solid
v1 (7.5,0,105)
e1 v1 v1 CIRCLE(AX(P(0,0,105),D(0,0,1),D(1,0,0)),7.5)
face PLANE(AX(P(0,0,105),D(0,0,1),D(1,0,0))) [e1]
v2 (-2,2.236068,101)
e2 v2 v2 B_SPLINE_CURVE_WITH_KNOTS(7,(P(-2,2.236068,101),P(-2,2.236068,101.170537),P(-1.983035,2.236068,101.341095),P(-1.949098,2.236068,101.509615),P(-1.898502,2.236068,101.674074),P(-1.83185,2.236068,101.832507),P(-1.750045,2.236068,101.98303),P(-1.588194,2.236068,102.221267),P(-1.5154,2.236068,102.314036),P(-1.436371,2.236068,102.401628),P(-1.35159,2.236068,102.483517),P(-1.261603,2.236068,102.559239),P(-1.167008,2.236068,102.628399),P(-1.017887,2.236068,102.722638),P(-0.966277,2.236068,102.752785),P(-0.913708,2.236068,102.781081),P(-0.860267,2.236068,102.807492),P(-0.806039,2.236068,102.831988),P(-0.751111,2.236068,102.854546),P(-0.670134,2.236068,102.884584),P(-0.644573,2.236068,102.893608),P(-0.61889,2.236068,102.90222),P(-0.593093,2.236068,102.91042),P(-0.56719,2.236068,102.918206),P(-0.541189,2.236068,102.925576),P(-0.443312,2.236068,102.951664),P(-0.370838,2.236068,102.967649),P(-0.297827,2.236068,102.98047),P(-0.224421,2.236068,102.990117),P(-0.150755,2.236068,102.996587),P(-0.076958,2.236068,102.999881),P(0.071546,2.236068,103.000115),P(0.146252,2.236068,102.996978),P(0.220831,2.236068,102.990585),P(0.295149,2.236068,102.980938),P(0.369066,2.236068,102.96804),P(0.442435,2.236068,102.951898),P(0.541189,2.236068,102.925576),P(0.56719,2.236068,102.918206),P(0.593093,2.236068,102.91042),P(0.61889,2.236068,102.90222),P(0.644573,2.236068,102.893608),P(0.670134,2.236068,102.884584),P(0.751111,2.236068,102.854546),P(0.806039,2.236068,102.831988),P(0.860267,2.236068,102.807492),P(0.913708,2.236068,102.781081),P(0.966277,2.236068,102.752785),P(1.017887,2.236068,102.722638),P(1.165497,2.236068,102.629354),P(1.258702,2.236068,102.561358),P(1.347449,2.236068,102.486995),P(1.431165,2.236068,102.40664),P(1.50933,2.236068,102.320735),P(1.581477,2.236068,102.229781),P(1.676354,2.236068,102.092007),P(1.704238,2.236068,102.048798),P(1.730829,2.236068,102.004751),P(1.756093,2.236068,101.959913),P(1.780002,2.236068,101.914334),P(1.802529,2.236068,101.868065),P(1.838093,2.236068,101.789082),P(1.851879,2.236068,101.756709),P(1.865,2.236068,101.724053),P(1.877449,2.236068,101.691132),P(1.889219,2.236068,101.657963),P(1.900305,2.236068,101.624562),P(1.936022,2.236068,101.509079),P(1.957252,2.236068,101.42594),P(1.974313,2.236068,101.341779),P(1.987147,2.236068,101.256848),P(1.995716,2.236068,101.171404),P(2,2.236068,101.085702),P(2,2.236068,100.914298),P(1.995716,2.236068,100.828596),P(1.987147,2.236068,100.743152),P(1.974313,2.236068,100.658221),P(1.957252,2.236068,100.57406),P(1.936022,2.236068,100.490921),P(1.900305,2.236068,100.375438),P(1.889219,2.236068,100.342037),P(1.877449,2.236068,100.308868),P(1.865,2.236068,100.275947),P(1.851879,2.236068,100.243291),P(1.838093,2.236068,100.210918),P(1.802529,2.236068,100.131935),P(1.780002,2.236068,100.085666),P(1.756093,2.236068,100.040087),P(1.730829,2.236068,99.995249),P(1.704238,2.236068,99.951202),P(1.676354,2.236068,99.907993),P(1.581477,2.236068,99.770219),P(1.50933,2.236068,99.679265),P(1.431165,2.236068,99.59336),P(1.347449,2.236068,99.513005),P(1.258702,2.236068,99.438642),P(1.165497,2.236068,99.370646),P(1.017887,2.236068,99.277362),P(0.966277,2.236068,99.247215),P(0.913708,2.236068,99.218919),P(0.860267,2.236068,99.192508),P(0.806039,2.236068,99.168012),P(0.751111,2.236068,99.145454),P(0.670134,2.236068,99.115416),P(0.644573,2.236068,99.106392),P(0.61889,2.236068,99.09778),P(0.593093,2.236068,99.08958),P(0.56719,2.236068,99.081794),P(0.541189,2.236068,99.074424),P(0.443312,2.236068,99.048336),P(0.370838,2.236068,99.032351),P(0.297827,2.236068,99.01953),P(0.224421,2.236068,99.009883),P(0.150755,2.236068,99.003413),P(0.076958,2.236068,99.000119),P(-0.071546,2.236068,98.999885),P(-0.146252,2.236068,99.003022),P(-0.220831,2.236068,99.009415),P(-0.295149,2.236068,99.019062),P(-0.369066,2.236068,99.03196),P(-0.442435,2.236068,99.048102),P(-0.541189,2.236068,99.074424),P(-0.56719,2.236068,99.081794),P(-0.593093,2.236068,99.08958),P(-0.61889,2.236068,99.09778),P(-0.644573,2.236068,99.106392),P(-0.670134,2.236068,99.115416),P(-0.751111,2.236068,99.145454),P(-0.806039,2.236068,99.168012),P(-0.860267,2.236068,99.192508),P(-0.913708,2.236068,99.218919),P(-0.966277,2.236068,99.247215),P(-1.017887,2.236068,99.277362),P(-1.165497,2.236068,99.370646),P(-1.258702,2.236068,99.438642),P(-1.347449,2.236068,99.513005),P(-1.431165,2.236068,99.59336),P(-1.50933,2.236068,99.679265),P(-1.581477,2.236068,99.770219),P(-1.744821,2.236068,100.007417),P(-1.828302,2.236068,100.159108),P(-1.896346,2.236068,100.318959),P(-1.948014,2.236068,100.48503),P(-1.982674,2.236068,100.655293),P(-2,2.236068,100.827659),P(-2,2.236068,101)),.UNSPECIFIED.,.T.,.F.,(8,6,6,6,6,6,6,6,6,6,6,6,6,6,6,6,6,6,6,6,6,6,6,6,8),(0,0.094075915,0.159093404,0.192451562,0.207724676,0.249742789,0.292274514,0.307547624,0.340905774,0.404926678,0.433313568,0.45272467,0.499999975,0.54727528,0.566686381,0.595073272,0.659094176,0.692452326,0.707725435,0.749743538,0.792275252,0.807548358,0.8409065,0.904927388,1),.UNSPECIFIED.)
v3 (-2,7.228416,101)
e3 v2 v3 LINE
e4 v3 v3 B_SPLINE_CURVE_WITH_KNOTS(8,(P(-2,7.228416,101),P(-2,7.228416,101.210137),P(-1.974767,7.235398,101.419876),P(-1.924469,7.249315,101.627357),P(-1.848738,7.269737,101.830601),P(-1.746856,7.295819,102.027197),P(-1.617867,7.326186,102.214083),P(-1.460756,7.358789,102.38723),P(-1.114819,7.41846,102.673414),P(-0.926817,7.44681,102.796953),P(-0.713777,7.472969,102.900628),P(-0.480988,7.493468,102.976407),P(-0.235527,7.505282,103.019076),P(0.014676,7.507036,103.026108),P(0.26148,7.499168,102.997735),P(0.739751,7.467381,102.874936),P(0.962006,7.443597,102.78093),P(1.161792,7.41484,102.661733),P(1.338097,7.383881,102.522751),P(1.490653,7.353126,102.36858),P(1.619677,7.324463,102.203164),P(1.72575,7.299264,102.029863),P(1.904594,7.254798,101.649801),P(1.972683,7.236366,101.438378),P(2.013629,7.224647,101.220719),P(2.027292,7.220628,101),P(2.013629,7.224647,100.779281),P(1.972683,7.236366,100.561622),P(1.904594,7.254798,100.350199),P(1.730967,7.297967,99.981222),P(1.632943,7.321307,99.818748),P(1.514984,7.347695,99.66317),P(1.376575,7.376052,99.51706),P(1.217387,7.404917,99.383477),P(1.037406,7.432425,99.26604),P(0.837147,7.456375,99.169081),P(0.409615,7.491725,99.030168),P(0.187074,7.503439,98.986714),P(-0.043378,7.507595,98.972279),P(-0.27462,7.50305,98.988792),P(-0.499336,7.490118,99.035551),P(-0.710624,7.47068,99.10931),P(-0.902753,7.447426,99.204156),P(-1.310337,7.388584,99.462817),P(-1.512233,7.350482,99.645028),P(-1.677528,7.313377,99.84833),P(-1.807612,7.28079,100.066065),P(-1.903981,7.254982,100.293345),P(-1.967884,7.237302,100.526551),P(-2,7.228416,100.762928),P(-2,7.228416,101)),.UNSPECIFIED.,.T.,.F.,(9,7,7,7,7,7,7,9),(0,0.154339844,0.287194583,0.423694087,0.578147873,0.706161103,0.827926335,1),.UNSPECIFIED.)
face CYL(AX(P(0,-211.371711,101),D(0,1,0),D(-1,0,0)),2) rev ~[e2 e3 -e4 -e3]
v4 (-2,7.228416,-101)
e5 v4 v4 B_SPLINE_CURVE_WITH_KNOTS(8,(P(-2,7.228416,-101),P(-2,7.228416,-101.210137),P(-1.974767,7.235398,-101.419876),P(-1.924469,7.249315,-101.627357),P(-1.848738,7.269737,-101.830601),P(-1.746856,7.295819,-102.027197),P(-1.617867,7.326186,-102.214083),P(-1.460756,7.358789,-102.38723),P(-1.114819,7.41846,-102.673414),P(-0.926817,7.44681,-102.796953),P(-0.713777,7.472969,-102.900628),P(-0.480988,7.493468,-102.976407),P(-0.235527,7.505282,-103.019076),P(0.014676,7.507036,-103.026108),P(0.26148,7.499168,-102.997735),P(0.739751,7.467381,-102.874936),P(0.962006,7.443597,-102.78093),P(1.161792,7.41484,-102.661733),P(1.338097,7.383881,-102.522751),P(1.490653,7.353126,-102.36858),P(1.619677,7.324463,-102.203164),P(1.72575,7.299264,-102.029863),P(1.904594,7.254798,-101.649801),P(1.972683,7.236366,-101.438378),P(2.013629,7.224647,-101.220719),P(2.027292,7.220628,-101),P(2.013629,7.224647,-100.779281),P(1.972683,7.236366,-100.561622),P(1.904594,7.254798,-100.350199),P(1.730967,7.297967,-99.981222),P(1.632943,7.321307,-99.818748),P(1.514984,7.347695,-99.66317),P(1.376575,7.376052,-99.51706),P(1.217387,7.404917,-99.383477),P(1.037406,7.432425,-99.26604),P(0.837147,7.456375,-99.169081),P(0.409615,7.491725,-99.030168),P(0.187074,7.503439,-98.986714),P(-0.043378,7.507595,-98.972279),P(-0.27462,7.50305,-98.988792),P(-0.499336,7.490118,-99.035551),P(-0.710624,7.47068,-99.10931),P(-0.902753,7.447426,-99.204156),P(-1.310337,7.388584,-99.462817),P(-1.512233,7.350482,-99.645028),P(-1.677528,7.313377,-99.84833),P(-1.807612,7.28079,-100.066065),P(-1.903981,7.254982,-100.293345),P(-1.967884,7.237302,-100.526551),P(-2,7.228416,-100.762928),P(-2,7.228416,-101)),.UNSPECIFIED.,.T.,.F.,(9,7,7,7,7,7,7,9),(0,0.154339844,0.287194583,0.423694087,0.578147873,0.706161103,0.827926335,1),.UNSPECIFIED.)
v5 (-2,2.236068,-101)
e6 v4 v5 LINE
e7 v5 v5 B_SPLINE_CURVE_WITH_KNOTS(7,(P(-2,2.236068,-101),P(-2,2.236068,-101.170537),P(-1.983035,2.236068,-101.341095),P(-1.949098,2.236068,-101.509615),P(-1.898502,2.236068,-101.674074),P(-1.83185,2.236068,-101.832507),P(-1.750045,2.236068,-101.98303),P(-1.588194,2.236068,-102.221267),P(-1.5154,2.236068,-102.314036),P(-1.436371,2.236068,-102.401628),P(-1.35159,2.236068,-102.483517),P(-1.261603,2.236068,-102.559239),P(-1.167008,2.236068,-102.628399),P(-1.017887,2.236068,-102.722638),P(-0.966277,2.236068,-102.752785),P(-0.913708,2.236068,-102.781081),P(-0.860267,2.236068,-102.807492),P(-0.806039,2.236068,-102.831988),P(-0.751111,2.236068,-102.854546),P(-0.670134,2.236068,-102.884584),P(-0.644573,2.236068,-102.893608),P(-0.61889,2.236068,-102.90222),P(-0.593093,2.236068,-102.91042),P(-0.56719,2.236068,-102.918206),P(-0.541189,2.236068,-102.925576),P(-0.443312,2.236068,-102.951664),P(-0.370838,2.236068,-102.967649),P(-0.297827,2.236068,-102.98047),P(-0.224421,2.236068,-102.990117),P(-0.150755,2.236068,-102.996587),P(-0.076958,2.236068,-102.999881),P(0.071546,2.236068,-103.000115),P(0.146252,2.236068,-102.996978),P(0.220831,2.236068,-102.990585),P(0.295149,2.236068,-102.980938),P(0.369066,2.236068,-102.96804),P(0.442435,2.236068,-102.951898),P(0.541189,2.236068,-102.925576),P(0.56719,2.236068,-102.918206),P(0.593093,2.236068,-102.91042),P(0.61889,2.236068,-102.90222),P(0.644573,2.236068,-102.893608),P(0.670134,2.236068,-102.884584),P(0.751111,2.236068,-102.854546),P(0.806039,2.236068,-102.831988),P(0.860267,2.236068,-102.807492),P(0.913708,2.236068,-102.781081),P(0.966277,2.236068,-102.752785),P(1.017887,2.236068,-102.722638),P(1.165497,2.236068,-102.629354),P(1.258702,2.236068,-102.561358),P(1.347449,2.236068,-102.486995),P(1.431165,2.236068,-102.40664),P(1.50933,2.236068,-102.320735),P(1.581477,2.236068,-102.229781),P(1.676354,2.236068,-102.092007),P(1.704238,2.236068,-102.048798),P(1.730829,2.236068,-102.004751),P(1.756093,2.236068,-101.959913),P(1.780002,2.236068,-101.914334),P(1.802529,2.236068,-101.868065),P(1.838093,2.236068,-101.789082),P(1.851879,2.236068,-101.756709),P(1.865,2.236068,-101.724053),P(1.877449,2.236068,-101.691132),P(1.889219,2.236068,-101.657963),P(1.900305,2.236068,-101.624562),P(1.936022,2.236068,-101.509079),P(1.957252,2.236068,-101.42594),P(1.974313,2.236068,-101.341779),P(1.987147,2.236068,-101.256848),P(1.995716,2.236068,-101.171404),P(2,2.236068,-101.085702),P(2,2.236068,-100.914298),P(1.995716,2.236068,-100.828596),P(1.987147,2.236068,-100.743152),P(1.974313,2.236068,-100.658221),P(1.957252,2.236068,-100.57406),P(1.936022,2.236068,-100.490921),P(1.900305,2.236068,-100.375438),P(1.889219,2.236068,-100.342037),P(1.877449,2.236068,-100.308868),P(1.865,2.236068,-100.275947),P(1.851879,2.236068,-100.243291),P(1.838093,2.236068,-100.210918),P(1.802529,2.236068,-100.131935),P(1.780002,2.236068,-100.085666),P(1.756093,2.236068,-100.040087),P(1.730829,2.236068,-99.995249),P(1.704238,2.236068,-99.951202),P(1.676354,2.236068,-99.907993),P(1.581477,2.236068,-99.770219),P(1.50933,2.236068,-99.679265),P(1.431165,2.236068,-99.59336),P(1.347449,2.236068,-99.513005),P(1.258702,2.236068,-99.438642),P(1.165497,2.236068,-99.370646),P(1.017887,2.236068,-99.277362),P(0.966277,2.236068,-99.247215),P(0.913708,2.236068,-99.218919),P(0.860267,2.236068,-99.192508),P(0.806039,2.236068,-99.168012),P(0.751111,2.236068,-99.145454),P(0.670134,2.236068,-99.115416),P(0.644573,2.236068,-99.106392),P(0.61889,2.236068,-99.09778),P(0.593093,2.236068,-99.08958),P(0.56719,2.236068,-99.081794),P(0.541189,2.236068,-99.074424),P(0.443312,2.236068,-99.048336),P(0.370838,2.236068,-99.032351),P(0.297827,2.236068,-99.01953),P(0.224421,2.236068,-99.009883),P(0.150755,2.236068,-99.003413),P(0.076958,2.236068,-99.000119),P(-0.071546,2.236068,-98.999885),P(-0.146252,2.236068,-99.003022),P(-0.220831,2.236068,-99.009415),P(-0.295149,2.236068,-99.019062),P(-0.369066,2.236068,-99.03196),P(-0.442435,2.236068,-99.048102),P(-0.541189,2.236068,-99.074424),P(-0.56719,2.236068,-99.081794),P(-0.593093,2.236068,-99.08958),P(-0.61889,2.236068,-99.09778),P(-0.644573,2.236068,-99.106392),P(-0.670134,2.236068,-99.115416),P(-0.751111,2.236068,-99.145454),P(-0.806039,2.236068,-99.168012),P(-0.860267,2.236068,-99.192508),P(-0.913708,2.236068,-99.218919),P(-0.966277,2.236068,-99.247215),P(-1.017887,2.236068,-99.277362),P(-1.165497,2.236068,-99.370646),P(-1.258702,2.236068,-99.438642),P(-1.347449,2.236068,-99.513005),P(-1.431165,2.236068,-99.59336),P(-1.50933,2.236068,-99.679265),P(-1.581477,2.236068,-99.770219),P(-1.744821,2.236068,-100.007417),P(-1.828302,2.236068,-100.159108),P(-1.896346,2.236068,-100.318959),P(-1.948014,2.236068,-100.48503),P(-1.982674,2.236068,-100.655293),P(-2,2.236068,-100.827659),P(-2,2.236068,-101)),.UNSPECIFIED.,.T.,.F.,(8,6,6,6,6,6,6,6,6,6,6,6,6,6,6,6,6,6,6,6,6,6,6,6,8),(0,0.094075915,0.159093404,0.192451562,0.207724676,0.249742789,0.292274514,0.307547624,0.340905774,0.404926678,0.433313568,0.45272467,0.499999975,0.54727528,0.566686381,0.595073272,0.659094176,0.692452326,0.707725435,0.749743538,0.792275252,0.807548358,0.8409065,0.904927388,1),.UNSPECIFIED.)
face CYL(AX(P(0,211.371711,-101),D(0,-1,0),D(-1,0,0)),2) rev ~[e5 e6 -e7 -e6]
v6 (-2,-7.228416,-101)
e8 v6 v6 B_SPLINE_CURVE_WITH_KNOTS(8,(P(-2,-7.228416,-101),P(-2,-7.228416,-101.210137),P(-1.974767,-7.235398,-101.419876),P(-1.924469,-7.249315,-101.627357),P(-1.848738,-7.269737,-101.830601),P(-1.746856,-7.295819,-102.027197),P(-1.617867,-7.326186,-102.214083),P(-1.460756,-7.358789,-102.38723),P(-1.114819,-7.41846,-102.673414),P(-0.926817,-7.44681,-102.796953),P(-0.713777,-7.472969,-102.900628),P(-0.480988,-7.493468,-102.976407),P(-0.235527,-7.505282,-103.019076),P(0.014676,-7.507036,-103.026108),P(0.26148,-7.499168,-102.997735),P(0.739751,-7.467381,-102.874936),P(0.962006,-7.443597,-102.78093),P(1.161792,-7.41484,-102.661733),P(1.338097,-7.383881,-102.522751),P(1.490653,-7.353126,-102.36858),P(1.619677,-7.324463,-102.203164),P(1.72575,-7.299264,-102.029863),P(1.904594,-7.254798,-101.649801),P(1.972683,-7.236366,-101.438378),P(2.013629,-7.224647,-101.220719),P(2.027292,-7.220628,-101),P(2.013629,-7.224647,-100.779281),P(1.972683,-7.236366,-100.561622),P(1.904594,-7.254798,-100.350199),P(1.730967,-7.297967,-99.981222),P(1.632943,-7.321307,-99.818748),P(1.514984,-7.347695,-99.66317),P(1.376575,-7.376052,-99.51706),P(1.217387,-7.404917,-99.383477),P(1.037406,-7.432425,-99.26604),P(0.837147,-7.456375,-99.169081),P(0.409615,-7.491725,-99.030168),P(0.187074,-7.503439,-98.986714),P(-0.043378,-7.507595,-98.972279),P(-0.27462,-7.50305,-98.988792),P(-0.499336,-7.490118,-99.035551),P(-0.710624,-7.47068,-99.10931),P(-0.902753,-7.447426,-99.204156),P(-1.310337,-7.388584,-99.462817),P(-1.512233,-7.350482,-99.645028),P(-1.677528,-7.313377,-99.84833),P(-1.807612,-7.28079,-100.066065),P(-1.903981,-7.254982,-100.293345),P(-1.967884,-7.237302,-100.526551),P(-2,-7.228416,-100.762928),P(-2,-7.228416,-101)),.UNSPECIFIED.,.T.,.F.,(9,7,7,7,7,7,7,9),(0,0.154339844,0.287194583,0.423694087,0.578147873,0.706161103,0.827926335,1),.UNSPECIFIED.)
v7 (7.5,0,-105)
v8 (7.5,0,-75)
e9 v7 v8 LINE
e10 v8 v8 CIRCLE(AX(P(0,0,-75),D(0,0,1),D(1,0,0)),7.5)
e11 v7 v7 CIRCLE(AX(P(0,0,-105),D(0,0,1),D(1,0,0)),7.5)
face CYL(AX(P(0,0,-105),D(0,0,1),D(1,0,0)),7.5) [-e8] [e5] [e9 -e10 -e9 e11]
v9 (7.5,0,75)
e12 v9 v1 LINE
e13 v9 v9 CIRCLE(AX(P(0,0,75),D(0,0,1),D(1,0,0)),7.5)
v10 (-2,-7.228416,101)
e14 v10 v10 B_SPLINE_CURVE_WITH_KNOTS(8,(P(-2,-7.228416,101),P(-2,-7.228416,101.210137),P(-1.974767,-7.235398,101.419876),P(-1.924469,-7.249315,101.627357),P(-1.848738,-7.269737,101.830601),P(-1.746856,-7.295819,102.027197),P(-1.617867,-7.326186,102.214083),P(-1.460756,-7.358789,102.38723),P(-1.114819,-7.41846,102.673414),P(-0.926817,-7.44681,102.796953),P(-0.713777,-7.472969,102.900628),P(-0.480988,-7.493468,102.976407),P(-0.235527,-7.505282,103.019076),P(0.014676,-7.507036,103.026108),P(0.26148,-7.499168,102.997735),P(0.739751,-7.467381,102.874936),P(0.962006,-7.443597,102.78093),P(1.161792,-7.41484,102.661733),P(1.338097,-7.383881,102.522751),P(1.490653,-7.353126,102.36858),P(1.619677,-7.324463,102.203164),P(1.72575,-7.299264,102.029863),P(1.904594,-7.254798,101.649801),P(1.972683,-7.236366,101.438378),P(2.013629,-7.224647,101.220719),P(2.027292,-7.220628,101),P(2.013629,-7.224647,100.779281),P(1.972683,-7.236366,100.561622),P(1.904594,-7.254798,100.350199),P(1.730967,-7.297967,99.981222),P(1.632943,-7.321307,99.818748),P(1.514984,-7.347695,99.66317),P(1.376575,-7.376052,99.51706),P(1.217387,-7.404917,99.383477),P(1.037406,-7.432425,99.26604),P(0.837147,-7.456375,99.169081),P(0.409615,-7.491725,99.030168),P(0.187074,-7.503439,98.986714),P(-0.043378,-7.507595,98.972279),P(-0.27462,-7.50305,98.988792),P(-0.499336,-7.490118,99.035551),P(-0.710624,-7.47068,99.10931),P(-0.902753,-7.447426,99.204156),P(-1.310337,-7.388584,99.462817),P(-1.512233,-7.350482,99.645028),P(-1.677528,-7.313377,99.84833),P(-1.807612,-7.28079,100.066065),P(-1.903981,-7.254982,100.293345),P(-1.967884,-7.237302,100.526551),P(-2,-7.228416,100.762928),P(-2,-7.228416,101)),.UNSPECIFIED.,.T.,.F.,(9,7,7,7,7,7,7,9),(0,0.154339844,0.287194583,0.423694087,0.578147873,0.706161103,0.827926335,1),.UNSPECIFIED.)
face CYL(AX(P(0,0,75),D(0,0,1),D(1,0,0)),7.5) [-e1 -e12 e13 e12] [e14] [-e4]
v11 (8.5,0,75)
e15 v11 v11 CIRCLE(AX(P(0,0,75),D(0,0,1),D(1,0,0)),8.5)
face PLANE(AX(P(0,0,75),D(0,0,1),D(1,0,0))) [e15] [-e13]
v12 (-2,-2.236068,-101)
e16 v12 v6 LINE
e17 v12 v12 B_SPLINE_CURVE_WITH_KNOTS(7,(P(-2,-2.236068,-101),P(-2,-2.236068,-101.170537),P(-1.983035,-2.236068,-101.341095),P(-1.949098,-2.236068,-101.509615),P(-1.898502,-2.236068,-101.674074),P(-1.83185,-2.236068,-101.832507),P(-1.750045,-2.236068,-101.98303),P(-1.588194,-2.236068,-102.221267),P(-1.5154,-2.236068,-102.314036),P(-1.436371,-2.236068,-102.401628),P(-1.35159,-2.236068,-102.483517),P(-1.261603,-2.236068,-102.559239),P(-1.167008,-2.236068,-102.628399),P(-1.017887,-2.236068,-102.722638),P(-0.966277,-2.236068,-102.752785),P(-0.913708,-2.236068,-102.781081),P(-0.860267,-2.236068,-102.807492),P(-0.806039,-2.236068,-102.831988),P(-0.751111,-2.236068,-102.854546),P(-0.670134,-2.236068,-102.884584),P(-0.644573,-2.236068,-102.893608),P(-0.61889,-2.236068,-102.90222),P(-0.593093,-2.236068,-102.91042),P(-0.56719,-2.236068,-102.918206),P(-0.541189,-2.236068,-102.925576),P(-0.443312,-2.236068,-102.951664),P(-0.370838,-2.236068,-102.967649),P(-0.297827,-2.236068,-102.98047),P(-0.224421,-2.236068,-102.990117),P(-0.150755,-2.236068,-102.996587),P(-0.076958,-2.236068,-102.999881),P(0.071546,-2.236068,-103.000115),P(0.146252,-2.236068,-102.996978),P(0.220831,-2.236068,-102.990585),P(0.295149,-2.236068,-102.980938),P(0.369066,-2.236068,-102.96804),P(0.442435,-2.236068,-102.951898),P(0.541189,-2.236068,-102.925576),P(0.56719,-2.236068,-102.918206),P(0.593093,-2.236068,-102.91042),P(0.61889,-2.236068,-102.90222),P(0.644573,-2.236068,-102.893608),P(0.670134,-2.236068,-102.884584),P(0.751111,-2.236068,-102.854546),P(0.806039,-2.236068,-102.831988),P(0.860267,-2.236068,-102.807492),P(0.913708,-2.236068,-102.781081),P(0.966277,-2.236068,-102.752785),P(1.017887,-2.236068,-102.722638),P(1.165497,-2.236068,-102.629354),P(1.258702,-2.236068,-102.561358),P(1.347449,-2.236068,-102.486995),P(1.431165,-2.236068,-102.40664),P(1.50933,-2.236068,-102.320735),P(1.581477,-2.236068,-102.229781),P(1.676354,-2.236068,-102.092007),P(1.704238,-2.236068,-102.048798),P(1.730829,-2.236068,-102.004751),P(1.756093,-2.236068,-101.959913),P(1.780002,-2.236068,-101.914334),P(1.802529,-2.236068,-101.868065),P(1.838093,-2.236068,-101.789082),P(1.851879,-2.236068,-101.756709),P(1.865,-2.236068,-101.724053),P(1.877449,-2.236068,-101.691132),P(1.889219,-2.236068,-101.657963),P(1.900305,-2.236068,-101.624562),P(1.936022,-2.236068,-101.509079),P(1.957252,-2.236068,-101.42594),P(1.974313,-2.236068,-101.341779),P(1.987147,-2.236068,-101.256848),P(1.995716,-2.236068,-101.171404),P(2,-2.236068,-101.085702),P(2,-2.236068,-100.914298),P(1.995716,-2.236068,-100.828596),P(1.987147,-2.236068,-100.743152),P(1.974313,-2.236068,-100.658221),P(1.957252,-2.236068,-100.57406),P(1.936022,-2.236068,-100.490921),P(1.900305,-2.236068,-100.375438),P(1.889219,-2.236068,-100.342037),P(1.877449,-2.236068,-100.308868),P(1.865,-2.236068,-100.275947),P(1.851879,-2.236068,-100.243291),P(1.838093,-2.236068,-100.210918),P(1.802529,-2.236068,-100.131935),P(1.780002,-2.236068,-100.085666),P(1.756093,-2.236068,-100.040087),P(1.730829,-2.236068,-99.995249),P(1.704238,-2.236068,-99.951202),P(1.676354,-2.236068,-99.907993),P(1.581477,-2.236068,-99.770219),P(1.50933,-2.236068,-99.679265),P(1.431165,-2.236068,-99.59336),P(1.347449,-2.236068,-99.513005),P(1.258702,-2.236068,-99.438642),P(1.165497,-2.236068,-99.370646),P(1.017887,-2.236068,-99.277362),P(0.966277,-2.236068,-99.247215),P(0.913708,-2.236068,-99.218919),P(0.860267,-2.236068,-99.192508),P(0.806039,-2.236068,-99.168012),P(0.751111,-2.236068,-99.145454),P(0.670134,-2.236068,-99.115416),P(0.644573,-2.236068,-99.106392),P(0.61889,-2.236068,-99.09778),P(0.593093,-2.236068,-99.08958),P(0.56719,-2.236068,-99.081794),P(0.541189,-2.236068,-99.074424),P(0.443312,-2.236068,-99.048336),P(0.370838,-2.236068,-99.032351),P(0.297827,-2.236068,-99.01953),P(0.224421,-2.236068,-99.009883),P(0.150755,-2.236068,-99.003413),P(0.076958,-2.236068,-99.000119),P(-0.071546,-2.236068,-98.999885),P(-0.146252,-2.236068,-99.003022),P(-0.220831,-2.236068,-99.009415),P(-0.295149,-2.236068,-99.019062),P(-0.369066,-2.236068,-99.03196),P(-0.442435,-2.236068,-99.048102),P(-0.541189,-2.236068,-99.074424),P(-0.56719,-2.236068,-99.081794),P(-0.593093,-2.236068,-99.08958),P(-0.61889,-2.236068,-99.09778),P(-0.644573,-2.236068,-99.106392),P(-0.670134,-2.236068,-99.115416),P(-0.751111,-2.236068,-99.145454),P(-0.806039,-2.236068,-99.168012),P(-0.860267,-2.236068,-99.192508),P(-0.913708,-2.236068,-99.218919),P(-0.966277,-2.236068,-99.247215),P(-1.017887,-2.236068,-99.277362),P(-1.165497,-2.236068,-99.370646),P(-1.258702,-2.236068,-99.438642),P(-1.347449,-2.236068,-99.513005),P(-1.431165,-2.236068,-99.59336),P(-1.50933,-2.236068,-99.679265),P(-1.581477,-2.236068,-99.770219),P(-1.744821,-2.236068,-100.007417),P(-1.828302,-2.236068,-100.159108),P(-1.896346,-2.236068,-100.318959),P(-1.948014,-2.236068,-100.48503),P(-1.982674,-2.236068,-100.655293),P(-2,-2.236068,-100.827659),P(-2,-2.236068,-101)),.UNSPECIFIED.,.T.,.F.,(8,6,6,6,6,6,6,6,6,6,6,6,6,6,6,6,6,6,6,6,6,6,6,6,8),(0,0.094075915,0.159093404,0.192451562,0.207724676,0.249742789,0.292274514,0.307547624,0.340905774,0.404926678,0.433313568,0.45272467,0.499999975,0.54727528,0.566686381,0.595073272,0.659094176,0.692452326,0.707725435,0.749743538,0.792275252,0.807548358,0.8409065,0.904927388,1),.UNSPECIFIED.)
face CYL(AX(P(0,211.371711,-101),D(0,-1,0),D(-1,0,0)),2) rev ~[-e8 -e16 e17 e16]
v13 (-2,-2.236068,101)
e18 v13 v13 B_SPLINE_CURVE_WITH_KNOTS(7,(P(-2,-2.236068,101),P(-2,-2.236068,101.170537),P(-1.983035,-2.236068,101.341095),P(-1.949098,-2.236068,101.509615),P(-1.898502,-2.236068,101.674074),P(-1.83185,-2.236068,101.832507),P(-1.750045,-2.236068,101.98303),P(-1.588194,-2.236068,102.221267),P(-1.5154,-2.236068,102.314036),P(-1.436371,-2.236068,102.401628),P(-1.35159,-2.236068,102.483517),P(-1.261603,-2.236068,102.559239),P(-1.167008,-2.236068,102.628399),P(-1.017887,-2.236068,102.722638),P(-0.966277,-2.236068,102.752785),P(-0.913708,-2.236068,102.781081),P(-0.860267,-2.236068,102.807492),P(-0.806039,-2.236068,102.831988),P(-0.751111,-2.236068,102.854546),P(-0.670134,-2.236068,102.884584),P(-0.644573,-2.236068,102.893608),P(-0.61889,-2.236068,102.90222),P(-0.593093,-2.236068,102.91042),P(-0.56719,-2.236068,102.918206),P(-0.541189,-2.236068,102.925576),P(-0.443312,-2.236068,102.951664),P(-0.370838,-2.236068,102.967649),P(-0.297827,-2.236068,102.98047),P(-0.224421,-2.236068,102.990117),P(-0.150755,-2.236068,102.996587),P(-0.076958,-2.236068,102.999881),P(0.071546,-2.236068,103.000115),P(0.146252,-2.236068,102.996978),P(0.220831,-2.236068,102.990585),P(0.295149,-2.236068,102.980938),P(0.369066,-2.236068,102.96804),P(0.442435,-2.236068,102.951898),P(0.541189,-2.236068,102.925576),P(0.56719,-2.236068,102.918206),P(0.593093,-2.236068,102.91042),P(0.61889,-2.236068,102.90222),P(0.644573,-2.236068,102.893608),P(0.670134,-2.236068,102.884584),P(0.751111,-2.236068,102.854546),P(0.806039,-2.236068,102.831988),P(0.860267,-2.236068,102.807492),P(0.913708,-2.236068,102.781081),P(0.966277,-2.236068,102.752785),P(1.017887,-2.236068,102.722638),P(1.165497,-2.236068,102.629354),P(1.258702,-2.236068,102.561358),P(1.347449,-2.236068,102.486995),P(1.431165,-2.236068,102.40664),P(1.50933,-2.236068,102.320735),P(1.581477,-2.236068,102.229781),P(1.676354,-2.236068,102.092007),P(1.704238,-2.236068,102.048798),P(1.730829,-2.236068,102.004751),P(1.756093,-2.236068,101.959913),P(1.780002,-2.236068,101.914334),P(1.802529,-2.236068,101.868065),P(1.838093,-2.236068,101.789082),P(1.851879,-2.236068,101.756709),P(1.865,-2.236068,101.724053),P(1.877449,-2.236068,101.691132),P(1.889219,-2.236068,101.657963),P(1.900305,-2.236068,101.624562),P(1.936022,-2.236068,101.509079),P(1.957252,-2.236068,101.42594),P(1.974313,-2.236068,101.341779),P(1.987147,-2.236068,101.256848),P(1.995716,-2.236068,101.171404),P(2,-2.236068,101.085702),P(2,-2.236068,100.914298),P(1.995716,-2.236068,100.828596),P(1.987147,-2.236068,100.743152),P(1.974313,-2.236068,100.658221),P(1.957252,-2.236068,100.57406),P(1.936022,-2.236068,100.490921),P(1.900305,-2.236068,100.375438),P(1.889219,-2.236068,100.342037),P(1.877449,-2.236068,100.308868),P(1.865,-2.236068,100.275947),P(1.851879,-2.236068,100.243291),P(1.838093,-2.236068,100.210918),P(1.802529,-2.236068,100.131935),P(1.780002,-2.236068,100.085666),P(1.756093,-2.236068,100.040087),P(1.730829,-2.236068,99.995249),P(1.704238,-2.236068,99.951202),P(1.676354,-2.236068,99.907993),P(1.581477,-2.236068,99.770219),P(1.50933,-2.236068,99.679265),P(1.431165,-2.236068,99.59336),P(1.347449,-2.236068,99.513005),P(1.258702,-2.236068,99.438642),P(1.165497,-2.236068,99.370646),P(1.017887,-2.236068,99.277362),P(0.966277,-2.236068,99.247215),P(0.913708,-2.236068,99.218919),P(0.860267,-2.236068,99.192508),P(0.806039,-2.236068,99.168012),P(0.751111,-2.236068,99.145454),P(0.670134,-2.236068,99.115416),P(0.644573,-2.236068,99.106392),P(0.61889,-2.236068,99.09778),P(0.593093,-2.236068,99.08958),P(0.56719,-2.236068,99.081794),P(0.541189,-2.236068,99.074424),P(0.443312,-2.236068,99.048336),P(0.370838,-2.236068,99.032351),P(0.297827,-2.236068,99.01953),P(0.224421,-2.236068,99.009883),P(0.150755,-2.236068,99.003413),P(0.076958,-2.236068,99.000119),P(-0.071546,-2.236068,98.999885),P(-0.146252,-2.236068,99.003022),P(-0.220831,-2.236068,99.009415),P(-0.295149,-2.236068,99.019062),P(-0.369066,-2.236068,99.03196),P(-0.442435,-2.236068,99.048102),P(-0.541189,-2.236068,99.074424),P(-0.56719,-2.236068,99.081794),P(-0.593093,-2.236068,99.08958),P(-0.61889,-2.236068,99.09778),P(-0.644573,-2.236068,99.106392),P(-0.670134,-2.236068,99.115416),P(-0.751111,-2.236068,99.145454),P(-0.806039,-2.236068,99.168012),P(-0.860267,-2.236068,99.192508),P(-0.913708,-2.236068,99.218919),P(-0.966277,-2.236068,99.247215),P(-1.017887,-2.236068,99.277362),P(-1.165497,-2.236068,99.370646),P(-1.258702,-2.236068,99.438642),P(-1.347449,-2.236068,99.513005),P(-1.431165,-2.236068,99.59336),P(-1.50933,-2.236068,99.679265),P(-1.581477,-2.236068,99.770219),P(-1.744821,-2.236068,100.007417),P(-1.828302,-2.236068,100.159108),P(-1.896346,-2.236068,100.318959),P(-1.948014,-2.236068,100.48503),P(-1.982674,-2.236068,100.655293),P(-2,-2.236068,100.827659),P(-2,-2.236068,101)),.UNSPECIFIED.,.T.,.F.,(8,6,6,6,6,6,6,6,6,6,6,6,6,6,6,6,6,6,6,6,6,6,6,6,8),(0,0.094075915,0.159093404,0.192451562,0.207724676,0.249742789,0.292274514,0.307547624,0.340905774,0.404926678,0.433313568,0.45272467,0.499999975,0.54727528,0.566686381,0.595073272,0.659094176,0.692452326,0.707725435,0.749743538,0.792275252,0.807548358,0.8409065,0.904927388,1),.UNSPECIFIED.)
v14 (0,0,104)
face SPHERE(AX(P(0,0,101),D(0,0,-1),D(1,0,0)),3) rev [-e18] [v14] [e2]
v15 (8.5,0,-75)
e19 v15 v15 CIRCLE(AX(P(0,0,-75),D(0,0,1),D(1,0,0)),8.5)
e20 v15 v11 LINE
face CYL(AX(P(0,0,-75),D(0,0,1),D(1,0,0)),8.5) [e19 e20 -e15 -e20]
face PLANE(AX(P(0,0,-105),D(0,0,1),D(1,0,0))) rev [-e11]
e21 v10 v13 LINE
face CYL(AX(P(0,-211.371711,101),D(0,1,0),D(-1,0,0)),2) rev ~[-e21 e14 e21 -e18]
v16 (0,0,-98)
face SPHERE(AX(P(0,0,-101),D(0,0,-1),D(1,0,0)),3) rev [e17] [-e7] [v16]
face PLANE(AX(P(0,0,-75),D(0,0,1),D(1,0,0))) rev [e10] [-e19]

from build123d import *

# Parameters (mm, degrees)
F2_D     = 4
F3_D     = 4
F4_D     = 4
F4_DEPTH = 150
F5_D     = 4
F5_DEPTH = 150


with BuildPart() as f1:
    # F0 (on Front) → F1 (revolve)
    with BuildSketch(Plane.XZ):
        with BuildLine():
            Line((7.5, -75), (8.5, -75))
            Line((8.5, -75), (8.5, 75))
            Line((8.5, 75), (7.5, 75))
            Line((7.5, 75), (7.5, 105))
            Line((7.5, 105), (0, 105))
            Line((0, 105), (0, 104))
            ThreePointArc((0, 104), (3, 101), (0, 98))
            Line((0, 98), (0, -98))
            ThreePointArc((0, -98), (3, -101), (0, -104))
            Line((0, -104), (0, -105))
            Line((0, -105), (7.5, -105))
            Line((7.5, -105), (7.5, -75))
        make_face()
    revolve(axis=Axis((0, 0, 64.221174), (0, 0, 1)))

    # F2 (through all)
    with Locations(Plane.XZ):
        with Locations((0, 101)):
            Hole(F2_D / 2)

    # F3 (through all)
    with Locations(Plane(origin=(0, 0, 0), x_dir=(1, 0, 0), z_dir=(0, 1, 0))):
        with Locations((0, 101)):
            Hole(F3_D / 2)

    # F4
    with Locations(Plane(origin=(0, 0, 0), x_dir=(1, 0, 0), z_dir=(0, 1, 0))):
        with Locations((0, -101)):
            Hole(F4_D / 2, depth=F4_DEPTH)

    # F5
    with Locations(Plane.XZ):
        with Locations((0, -101)):
            Hole(F5_D / 2, depth=F5_DEPTH)


solid = f1.part
